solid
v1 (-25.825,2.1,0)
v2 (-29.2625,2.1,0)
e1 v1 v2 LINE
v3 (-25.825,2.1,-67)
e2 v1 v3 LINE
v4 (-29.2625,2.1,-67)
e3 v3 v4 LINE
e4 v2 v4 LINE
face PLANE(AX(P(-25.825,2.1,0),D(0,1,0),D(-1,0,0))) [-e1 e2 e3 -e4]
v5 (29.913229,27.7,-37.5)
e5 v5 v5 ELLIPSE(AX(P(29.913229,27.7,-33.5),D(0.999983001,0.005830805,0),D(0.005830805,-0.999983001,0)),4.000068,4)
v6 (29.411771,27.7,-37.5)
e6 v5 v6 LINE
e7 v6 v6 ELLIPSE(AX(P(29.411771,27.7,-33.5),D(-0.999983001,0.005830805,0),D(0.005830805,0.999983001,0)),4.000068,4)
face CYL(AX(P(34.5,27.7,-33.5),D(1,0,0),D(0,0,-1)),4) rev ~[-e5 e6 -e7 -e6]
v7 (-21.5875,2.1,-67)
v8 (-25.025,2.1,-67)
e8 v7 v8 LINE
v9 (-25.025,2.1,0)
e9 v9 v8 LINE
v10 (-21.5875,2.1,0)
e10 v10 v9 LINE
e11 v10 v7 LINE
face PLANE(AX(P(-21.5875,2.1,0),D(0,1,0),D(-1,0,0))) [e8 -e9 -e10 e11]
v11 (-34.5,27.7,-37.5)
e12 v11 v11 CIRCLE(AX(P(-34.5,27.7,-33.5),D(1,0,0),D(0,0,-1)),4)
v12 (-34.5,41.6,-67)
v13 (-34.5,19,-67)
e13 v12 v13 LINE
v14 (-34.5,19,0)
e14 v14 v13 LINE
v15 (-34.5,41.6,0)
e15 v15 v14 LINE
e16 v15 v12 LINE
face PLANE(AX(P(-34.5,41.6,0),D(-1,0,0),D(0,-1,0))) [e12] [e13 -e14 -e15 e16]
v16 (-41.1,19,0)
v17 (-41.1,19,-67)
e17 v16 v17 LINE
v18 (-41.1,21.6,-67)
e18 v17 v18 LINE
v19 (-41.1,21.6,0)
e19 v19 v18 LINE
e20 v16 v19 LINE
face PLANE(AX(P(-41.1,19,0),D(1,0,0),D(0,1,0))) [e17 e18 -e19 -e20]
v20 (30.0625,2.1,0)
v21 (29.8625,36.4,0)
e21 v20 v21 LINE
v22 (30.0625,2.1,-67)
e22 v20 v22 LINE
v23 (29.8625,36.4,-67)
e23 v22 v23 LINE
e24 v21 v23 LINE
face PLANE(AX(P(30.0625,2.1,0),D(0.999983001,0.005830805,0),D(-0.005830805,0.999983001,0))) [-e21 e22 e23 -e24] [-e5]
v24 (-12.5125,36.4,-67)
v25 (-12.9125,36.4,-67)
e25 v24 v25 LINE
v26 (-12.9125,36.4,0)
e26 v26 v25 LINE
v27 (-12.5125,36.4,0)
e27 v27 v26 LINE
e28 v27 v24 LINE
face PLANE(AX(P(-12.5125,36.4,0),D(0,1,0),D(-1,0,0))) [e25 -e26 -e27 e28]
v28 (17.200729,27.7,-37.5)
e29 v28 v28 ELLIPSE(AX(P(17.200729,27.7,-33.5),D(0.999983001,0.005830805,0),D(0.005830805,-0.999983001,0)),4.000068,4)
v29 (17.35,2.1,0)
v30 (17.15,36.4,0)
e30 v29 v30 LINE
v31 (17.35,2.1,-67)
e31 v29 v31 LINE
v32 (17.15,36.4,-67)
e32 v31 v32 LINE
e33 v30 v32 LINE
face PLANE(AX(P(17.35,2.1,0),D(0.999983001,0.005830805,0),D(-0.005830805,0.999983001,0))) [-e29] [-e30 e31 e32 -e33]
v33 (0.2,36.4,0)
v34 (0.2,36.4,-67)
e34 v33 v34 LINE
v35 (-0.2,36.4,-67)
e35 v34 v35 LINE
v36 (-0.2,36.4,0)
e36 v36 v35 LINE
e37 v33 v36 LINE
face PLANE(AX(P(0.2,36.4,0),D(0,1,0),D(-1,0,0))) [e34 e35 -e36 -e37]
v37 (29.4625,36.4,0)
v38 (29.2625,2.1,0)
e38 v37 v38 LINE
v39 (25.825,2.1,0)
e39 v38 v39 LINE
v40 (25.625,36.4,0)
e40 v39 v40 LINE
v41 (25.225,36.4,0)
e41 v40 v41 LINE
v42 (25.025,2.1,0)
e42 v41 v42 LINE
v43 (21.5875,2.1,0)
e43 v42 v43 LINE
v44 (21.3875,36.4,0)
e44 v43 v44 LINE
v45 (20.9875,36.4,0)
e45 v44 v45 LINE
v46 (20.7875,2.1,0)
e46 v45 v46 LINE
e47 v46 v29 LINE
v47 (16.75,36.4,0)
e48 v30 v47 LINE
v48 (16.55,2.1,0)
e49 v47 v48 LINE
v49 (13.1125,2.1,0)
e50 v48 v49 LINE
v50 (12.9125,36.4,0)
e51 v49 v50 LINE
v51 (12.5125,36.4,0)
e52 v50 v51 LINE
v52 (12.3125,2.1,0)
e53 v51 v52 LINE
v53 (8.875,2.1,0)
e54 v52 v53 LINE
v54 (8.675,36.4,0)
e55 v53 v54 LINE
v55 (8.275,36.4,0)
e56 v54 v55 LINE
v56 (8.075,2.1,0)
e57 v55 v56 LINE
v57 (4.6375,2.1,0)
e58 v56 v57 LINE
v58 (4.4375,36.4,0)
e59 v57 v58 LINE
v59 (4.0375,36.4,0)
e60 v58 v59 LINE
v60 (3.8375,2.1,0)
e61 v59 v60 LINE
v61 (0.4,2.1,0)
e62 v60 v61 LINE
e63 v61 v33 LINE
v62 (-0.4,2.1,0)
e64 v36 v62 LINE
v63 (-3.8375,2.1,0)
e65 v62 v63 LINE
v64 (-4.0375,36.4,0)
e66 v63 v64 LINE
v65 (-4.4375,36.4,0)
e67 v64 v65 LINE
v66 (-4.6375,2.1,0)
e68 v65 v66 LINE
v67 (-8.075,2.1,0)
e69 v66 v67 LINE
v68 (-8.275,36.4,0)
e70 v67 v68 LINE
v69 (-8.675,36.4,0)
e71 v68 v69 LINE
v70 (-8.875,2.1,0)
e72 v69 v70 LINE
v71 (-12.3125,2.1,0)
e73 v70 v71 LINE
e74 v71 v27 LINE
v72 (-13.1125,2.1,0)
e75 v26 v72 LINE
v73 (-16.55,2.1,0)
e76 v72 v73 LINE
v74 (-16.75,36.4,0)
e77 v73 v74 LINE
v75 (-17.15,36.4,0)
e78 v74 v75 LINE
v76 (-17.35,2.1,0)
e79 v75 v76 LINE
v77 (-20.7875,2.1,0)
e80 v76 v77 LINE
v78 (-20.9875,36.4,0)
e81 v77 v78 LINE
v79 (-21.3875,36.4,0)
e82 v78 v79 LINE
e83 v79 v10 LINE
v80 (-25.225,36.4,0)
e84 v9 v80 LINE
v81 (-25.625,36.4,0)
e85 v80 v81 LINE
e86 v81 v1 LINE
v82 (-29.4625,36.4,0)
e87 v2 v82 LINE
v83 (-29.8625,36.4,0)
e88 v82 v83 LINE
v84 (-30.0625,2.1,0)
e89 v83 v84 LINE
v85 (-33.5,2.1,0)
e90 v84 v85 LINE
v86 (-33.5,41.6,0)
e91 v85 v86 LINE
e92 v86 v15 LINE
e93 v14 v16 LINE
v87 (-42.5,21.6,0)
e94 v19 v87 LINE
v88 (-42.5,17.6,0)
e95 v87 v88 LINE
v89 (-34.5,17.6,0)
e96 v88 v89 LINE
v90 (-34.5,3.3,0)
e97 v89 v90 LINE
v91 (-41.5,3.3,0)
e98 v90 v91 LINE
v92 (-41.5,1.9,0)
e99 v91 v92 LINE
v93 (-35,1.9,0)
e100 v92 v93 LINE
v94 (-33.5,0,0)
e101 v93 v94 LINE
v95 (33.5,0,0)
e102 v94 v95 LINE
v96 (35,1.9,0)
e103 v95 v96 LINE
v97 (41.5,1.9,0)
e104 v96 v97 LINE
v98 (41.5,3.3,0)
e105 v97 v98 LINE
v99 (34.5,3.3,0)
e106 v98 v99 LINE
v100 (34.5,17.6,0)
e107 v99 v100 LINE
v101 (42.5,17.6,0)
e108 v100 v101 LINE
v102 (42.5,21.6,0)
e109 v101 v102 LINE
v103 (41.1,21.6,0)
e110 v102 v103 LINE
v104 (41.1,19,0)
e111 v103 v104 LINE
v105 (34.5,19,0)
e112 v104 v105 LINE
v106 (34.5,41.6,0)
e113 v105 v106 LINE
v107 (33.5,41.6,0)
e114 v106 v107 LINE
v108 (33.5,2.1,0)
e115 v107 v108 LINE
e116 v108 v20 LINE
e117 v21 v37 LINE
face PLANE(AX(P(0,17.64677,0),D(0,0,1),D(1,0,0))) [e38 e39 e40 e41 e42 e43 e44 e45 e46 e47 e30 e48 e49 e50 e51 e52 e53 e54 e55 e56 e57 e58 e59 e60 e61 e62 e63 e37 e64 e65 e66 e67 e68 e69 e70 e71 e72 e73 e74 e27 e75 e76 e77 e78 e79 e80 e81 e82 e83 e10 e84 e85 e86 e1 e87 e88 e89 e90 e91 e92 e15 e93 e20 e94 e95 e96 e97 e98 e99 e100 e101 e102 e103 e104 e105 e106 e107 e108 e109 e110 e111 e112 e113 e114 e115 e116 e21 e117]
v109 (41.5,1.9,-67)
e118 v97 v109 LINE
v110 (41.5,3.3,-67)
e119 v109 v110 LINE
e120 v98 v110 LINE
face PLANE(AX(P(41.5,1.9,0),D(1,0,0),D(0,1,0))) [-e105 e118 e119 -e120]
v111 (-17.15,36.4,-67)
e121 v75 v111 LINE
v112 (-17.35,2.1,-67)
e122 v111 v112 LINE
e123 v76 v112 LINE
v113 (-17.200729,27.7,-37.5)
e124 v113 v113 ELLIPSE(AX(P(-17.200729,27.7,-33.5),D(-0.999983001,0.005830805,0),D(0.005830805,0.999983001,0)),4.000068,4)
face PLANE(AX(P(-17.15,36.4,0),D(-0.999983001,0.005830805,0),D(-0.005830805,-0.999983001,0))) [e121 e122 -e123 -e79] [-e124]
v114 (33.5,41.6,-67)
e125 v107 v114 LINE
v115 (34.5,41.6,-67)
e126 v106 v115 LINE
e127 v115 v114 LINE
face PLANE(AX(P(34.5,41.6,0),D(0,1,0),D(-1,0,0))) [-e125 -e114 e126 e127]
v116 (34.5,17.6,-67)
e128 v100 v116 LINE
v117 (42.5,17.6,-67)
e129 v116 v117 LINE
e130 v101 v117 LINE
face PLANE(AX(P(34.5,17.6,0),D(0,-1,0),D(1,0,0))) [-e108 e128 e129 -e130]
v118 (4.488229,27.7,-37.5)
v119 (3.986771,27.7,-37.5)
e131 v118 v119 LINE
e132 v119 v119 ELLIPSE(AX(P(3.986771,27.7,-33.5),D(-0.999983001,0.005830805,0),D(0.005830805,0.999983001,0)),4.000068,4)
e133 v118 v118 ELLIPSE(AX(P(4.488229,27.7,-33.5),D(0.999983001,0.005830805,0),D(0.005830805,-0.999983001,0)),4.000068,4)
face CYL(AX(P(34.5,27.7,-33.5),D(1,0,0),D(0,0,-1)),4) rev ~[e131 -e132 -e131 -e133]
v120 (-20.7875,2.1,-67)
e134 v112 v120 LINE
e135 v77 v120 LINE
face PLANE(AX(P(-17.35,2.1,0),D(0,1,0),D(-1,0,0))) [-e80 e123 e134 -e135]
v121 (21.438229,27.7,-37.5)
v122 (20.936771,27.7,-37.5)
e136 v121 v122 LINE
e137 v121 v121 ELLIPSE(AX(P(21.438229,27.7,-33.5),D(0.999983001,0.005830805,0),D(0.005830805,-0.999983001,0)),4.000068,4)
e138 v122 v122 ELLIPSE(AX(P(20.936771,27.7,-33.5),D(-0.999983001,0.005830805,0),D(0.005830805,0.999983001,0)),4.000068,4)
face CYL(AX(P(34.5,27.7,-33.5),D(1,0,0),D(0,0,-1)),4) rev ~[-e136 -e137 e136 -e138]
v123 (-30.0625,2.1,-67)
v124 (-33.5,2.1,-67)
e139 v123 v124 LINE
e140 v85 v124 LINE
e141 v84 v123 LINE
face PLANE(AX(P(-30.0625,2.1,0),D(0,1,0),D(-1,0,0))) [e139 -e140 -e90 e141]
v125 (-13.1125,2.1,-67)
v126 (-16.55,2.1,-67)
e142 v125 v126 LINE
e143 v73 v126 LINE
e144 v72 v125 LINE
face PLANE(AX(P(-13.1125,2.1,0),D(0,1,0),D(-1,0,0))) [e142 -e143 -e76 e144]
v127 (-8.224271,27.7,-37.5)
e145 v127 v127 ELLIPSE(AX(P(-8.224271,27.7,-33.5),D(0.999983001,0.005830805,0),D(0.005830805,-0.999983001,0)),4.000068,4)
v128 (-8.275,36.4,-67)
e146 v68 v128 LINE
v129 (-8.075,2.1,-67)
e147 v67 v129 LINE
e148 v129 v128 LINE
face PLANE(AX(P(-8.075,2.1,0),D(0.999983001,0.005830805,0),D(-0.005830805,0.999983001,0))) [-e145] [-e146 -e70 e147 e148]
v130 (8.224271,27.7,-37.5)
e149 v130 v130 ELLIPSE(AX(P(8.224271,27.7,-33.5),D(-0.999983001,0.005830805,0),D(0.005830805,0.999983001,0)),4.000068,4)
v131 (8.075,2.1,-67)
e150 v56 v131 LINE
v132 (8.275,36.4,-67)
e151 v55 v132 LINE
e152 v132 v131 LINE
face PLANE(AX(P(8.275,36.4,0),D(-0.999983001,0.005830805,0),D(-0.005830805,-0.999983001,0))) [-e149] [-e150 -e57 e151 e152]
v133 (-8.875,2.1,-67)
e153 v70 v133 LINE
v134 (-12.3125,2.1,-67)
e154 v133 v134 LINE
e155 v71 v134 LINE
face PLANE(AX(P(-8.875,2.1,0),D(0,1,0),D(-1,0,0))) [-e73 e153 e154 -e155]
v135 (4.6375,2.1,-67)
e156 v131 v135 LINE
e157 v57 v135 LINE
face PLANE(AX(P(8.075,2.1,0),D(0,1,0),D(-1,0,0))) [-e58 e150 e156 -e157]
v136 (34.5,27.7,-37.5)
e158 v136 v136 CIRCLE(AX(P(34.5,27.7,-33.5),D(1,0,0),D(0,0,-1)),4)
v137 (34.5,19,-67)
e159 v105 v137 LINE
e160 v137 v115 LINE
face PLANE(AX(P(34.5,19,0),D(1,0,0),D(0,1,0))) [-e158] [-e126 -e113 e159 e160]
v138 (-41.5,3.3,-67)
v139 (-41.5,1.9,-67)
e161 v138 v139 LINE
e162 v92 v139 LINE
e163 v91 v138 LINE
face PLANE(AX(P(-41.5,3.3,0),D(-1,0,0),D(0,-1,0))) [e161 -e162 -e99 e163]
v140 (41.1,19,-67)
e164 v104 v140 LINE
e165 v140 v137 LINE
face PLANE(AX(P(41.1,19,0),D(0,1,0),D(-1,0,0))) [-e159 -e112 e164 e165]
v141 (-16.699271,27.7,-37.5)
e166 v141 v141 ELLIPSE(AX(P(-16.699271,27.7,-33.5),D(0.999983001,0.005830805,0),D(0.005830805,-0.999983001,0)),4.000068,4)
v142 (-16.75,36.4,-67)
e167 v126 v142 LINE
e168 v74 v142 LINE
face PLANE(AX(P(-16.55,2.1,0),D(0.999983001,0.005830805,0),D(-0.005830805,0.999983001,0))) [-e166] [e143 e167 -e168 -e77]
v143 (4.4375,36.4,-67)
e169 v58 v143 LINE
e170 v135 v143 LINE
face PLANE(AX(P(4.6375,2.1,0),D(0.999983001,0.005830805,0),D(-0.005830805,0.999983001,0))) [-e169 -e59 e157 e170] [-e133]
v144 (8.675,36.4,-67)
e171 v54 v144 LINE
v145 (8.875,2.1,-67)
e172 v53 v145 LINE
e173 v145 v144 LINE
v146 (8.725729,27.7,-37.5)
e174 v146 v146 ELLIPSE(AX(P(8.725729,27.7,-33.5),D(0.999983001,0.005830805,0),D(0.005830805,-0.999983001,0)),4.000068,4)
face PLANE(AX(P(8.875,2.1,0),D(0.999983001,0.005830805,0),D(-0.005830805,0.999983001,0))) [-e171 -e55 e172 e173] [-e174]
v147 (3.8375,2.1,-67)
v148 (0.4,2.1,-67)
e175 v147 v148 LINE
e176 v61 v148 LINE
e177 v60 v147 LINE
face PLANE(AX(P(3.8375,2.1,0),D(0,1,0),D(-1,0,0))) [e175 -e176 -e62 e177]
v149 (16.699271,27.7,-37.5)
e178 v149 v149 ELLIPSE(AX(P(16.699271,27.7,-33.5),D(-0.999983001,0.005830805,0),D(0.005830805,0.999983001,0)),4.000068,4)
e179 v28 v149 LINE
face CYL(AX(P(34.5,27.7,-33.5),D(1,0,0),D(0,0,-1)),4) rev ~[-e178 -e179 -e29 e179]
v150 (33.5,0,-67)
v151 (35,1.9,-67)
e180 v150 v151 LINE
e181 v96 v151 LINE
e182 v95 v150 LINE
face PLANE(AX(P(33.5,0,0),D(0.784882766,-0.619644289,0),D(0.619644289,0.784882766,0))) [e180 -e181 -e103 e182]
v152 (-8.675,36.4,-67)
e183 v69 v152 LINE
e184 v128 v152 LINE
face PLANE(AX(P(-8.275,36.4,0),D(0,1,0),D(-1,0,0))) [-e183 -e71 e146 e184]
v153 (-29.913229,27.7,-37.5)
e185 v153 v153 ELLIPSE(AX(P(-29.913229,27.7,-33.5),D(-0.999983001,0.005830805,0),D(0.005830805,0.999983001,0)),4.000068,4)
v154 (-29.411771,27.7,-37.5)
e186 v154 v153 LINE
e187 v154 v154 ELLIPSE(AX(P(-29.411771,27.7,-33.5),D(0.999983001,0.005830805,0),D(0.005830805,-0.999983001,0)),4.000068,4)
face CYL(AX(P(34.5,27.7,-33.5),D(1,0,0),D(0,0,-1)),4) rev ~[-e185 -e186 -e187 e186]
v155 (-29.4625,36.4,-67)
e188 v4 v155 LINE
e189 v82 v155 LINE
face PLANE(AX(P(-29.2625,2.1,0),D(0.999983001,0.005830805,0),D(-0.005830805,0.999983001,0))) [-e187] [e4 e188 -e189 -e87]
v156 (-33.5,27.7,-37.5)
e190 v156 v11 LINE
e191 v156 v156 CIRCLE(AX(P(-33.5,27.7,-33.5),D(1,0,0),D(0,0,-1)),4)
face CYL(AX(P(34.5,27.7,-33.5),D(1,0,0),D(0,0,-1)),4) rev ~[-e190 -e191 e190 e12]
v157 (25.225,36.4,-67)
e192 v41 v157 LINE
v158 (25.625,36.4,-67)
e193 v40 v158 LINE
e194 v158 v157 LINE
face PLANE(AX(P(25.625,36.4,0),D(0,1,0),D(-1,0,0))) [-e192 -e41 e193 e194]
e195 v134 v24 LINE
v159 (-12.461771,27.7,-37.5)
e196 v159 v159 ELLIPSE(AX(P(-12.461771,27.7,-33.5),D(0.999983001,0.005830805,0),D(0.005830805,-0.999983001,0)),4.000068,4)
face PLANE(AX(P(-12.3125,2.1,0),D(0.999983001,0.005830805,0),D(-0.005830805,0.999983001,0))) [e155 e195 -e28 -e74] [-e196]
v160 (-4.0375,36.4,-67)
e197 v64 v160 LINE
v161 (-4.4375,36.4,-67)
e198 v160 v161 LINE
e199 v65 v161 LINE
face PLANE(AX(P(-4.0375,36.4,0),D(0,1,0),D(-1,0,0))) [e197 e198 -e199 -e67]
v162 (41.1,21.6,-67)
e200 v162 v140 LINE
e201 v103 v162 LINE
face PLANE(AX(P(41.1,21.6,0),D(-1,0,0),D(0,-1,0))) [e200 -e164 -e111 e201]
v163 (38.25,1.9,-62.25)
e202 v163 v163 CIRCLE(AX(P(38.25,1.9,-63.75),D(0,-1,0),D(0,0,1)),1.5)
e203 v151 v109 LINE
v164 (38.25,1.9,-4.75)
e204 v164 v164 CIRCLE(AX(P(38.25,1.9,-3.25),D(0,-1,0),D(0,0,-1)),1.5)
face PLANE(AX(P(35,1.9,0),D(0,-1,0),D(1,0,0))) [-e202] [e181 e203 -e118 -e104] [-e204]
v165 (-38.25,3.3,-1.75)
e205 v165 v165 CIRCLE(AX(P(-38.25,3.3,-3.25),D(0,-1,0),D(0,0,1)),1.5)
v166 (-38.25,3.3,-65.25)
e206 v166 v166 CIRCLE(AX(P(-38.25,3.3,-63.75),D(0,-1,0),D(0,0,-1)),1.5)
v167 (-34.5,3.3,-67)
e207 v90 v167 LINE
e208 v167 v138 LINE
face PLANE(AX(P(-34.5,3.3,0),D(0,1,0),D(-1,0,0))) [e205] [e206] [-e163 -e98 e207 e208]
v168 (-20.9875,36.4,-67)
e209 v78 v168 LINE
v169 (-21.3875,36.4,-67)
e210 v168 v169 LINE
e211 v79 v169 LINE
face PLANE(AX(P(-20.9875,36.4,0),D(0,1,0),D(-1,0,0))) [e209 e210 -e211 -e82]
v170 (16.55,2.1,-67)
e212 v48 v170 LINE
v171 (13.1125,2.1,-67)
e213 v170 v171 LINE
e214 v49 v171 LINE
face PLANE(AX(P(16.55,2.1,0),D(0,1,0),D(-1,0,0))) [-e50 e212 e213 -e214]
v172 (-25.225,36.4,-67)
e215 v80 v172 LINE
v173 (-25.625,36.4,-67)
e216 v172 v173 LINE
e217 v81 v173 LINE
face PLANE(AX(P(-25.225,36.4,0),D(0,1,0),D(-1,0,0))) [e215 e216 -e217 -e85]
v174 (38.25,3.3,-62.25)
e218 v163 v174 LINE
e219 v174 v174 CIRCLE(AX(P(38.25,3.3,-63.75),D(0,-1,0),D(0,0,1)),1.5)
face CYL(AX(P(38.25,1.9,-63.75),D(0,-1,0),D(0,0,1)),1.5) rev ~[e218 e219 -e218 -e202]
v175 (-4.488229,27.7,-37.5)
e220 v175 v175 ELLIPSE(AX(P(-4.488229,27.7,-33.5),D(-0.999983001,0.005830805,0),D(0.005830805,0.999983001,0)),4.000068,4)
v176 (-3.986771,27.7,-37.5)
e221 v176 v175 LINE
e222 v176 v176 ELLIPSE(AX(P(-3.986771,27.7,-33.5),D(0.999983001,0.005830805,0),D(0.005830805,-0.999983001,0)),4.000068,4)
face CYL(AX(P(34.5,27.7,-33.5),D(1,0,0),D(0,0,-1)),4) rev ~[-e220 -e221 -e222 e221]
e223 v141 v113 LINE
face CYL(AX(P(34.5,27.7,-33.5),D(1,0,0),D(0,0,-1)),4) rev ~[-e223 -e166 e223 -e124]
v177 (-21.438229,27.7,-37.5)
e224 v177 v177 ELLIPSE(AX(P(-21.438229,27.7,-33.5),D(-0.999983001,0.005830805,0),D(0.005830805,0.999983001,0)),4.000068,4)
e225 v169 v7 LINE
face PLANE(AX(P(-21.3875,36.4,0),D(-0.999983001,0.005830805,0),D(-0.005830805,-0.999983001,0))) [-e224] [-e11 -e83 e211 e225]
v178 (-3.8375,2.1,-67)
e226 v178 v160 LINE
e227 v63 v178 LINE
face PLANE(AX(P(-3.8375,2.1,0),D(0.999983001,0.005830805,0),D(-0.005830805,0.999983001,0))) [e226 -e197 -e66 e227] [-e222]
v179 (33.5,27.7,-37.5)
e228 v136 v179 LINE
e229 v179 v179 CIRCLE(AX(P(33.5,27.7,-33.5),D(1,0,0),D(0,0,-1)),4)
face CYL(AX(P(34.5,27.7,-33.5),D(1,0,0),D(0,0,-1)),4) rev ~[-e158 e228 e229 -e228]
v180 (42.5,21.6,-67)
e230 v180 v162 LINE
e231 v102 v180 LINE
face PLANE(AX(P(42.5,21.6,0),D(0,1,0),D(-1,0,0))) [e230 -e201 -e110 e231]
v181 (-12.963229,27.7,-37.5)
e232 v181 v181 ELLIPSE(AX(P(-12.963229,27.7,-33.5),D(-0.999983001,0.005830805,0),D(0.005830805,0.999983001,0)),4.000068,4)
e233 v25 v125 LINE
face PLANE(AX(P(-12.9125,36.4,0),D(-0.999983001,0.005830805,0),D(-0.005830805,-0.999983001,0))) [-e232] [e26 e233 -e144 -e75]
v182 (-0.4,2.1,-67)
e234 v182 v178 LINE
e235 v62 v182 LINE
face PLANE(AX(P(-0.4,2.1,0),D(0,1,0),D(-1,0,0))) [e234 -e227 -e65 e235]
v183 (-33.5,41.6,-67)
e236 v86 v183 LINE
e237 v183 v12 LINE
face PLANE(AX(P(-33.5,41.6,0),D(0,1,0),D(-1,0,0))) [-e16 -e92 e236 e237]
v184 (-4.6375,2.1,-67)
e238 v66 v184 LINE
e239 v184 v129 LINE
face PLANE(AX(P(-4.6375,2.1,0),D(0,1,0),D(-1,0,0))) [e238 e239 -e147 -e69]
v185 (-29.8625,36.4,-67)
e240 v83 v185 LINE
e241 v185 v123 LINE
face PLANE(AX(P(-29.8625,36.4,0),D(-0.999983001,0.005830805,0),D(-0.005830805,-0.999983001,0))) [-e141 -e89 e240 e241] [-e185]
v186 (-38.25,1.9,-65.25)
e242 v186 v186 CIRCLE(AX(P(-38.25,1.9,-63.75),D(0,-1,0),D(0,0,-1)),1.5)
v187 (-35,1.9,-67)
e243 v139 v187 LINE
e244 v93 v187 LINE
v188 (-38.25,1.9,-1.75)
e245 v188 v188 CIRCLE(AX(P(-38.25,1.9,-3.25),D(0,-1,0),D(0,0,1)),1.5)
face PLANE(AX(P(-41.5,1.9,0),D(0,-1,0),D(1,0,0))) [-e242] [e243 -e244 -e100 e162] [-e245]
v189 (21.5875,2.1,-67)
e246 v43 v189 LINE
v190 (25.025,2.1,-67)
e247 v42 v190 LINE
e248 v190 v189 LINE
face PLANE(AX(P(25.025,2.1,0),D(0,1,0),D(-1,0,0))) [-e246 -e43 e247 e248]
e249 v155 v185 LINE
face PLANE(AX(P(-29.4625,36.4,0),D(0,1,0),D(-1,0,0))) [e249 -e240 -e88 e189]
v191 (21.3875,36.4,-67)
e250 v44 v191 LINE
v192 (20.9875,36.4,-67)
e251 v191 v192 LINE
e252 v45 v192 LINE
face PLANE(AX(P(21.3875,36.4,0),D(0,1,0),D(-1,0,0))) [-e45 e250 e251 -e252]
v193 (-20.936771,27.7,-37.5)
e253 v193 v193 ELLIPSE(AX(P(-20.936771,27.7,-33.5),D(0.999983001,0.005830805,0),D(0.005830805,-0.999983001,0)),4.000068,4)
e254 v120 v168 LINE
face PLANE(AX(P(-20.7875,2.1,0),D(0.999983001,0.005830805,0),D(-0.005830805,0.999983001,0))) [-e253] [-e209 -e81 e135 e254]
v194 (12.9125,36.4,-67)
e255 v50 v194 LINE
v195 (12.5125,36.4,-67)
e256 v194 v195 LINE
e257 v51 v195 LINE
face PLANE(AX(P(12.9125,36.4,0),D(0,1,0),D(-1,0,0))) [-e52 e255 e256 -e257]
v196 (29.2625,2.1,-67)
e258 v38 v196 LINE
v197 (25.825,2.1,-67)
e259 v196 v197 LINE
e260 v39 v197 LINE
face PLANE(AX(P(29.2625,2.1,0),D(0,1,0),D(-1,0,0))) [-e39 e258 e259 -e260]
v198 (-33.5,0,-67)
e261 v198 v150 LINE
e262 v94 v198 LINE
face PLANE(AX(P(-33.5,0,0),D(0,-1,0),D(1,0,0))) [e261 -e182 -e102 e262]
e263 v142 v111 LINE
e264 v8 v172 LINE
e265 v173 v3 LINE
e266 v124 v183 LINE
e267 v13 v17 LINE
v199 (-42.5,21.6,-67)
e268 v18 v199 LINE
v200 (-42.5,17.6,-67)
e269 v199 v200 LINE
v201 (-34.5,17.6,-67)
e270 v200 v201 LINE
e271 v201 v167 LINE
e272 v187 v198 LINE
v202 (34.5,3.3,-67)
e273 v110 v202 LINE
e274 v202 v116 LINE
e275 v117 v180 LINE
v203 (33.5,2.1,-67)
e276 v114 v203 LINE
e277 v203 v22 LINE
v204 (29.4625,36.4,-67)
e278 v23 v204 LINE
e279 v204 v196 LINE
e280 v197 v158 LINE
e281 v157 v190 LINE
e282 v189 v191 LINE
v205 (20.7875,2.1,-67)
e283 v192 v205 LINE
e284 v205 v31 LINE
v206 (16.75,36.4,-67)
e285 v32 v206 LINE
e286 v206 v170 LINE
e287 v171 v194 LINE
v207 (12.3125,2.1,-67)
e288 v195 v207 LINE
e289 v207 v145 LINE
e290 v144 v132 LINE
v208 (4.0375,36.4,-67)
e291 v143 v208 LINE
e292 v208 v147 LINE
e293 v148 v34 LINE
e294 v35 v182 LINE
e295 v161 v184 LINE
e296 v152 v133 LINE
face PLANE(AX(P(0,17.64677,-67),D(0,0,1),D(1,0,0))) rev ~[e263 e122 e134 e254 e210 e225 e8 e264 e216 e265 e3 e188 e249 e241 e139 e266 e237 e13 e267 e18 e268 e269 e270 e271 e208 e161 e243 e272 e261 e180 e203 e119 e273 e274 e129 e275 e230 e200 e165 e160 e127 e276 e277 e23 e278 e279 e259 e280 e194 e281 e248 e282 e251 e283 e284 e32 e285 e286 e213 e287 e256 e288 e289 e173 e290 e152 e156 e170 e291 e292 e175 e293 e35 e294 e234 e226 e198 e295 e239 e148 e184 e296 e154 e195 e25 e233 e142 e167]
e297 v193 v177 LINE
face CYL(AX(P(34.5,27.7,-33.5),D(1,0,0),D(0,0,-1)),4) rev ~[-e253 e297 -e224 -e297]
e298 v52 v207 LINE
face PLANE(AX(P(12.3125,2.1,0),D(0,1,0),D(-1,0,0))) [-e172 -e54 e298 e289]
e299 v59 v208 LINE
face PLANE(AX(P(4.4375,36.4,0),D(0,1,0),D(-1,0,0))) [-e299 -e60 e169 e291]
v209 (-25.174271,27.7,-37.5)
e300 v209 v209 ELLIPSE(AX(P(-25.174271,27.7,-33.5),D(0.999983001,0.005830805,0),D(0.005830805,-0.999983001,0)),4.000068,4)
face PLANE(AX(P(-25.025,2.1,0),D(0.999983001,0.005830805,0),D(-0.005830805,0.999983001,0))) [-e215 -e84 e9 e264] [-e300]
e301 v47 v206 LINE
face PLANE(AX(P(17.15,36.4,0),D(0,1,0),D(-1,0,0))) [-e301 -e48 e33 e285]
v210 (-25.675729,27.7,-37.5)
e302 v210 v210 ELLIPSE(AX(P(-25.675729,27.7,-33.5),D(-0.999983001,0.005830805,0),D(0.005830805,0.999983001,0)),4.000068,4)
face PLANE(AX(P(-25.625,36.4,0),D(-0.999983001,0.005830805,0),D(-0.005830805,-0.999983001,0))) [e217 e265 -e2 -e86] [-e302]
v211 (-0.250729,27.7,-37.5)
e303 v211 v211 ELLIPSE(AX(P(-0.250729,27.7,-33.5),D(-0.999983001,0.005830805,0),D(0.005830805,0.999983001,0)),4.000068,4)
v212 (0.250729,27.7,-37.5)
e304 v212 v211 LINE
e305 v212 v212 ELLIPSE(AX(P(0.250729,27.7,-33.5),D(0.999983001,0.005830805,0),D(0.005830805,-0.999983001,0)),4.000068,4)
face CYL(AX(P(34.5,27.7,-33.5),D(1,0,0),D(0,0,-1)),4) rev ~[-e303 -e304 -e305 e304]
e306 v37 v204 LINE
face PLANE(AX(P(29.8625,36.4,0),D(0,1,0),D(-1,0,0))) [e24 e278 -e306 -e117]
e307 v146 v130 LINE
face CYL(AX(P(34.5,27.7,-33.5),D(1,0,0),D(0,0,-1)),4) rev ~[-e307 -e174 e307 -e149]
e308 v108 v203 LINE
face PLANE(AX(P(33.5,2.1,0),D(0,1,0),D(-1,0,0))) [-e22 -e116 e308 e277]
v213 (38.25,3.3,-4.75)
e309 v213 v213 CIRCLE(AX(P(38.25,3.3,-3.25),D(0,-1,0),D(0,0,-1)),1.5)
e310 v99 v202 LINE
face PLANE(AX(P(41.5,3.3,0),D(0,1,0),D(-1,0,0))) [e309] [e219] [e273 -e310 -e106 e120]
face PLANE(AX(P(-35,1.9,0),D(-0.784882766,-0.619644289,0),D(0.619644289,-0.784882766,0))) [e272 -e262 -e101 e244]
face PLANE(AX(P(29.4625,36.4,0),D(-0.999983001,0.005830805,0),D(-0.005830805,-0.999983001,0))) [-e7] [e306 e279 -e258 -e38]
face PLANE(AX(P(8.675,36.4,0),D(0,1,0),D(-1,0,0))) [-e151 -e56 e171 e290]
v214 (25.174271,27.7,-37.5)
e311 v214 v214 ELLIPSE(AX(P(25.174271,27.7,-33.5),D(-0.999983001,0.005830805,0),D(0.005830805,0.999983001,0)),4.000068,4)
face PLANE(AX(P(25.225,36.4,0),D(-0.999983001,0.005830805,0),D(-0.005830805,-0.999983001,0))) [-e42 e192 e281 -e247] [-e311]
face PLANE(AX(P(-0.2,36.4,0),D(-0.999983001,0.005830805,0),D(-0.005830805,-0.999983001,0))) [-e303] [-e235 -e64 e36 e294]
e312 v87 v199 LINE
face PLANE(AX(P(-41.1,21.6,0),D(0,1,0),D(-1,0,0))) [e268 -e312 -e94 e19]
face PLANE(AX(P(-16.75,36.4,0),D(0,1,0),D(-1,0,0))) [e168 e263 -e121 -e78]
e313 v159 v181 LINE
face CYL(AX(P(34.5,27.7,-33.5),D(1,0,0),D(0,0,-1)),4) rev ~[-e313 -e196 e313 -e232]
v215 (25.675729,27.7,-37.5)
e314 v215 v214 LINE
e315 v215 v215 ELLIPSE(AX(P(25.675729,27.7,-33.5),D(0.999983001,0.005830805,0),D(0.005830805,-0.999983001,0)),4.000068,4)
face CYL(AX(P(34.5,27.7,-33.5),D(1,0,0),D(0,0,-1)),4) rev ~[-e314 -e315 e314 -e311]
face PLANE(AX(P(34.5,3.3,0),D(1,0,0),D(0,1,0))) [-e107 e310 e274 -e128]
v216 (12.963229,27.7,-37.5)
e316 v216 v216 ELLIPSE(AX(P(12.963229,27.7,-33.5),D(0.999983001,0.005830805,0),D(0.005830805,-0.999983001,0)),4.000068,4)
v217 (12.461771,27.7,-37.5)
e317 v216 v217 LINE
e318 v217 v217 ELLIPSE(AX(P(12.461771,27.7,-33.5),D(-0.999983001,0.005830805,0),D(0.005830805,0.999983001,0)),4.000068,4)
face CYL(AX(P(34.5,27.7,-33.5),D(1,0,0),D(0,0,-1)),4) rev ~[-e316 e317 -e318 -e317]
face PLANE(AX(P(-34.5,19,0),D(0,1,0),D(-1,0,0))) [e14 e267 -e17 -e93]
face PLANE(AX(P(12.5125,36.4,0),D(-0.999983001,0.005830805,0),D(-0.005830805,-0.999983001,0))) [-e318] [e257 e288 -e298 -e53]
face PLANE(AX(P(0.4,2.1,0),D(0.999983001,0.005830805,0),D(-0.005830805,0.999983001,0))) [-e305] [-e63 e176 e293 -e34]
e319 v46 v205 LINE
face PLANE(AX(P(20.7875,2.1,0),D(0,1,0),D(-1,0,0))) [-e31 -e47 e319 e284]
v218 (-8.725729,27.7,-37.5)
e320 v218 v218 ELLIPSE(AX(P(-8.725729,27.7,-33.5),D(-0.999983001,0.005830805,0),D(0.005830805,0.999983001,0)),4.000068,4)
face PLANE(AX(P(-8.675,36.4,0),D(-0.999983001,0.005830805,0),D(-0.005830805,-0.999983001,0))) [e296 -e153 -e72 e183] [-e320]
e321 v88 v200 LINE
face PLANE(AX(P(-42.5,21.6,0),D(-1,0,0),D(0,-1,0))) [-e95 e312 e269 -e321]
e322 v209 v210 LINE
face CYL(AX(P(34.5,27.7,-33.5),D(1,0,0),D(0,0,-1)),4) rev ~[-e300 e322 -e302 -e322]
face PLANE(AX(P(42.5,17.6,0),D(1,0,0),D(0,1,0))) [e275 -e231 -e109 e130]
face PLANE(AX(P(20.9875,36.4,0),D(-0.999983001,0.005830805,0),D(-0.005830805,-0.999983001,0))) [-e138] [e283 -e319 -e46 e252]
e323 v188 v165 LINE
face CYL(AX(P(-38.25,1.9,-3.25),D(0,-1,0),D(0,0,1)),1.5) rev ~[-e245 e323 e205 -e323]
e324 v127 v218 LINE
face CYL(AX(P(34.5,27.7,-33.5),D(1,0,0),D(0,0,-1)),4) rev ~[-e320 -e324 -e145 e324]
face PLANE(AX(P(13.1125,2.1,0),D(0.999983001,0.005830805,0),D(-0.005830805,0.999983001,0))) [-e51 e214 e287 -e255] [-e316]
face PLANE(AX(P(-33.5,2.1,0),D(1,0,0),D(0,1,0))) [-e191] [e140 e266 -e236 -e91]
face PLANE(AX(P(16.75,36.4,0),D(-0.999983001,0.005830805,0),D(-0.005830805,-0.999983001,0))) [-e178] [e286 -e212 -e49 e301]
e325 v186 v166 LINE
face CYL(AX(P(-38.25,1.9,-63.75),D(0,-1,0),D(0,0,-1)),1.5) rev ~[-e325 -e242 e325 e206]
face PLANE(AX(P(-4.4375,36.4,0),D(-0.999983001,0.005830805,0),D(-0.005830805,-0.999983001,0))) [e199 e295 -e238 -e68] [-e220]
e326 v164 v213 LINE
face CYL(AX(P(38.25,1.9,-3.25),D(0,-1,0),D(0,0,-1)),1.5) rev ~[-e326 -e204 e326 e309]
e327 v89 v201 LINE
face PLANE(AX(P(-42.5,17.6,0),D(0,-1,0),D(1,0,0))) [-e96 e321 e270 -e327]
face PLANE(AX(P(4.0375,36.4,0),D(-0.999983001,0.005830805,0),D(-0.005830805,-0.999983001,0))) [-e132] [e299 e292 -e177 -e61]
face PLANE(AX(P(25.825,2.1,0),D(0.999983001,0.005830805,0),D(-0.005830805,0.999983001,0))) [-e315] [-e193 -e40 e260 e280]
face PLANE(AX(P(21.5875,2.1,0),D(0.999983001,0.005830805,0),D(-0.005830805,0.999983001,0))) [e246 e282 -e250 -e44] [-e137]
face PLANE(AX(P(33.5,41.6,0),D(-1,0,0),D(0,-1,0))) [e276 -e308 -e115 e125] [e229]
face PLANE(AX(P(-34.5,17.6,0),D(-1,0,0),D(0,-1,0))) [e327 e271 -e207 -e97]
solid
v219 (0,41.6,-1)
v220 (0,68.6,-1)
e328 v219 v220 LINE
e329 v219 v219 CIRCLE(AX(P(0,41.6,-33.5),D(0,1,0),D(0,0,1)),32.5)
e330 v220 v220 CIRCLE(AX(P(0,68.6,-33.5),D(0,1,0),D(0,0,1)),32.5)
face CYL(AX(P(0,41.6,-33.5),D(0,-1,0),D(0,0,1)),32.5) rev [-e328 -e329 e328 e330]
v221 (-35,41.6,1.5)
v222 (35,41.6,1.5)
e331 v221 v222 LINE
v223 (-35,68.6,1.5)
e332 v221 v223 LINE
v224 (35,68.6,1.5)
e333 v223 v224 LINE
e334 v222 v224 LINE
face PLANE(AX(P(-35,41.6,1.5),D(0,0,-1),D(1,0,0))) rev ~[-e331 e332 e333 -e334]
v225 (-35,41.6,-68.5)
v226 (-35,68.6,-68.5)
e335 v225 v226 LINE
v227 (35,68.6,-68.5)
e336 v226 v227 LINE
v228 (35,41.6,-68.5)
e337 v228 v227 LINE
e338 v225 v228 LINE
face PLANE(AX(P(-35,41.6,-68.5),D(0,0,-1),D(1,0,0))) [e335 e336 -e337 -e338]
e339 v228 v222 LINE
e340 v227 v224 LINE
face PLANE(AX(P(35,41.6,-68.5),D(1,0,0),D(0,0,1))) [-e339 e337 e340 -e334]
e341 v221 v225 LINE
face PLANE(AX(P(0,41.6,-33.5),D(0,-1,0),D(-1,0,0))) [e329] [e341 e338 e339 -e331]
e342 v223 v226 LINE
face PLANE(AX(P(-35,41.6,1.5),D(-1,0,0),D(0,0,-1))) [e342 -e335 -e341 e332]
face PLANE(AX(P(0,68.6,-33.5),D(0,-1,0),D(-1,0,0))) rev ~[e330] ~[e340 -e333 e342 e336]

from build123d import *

# Parameters (mm, degrees)
HEATSINK_DEPTH                    = 67
SKETCH3_R                         = 32.5
FAN_DEPTH                         = 27
SKETCH4_R                         = 1.5
MOUNTING_HOLES_CUT_EXTRUDE1_DEPTH = 1.4
U_ARM_SHAFT_CUT_EXTRUDE2_REACH    = 125.803
SKETCH6_R                         = 4


with BuildPart() as part:
    # Sketch1 → Heatsink (new body)
    with BuildSketch(Plane.XY):
        Polygon((-33.5, 0), (33.5, 0), (35, 1.9), (41.5, 1.9), (41.5, 3.3), (34.5, 3.3), (34.5, 17.6), (42.5, 17.6), (42.5, 21.6), (41.1, 21.6), (41.1, 19), (34.5, 19), (34.5, 41.6), (33.5, 41.6), (33.5, 2.1), (30.0625, 2.1), (29.8625, 36.4), (29.4625, 36.4), (29.2625, 2.1), (25.825, 2.1), (25.625, 36.4), (25.225, 36.4), (25.025, 2.1), (21.5875, 2.1), (21.3875, 36.4), (20.9875, 36.4), (20.7875, 2.1), (17.35, 2.1), (17.15, 36.4), (16.75, 36.4), (16.55, 2.1), (13.1125, 2.1), (12.9125, 36.4), (12.5125, 36.4), (12.3125, 2.1), (8.875, 2.1), (8.675, 36.4), (8.275, 36.4), (8.075, 2.1), (4.6375, 2.1), (4.4375, 36.4), (4.0375, 36.4), (3.8375, 2.1), (0.4, 2.1), (0.2, 36.4), (-0.2, 36.4), (-0.4, 2.1), (-3.8375, 2.1), (-4.0375, 36.4), (-4.4375, 36.4), (-4.6375, 2.1), (-8.075, 2.1), (-8.275, 36.4), (-8.675, 36.4), (-8.875, 2.1), (-12.3125, 2.1), (-12.5125, 36.4), (-12.9125, 36.4), (-13.1125, 2.1), (-16.55, 2.1), (-16.75, 36.4), (-17.15, 36.4), (-17.35, 2.1), (-20.7875, 2.1), (-20.9875, 36.4), (-21.3875, 36.4), (-21.5875, 2.1), (-25.025, 2.1), (-25.225, 36.4), (-25.625, 36.4), (-25.825, 2.1), (-29.2625, 2.1), (-29.4625, 36.4), (-29.8625, 36.4), (-30.0625, 2.1), (-33.5, 2.1), (-33.5, 41.6), (-34.5, 41.6), (-34.5, 19), (-41.1, 19), (-41.1, 21.6), (-42.5, 21.6), (-42.5, 17.6), (-34.5, 17.6), (-34.5, 3.3), (-41.5, 3.3), (-41.5, 1.9), (-35, 1.9), align=None)
    extrude(amount=-HEATSINK_DEPTH)

    # Sketch4 → Mounting Holes Cut-Extrude1 (cut)
    with BuildSketch(Plane.XZ.offset(-1.9)):
        with Locations(Location((38.25, -3.25, 0), (0, 0, 270))):
            Circle(SKETCH4_R)
        with Locations(Location((-38.25, -3.25, 0), (0, 0, 90))):
            Circle(SKETCH4_R)
        with Locations(Location((38.25, -63.75, 0), (0, 0, 90))):
            Circle(SKETCH4_R)
        with Locations(Location((-38.25, -63.75, 0), (0, 0, 270))):
            Circle(SKETCH4_R)
    extrude(amount=-MOUNTING_HOLES_CUT_EXTRUDE1_DEPTH, mode=Mode.SUBTRACT)

    # U-Arm Shaft Cut-Extrude2: up to this face of the body (flat: up to its plane)
    u_arm_shaft_cut_extrude2_end = Plane(part.part.faces().sort_by_distance((-34.5, 30.3, -33.5))[0])
    # Sketch6 → U-Arm Shaft Cut-Extrude2 (cut, up to the picked face)
    with BuildSketch(Plane(origin=(34.5, 0, 0), x_dir=(0, 0, -1), z_dir=(1, 0, 0)), mode=Mode.PRIVATE) as u_arm_shaft_cut_extrude2_sk1:
        with Locations((33.5, 27.7)):
            Circle(SKETCH6_R)
    u_arm_shaft_cut_extrude2_tool1 = split(extrude(u_arm_shaft_cut_extrude2_sk1.sketch, amount=-U_ARM_SHAFT_CUT_EXTRUDE2_REACH, mode=Mode.PRIVATE), bisect_by=u_arm_shaft_cut_extrude2_end, keep=Keep.BOTH, mode=Mode.PRIVATE)
    add(u_arm_shaft_cut_extrude2_tool1.solids().sort_by(Axis((34.5, 27.7, -33.5), (-1, 0, 0)))[0], mode=Mode.SUBTRACT)


with BuildPart() as body_2:
    # Sketch3 → Fan (new body)
    with BuildSketch(Plane(origin=(0, 41.6, 0), x_dir=(1, 0, 0), z_dir=(0, 1, 0))):
        Polygon((-35, 68.5), (35, 68.5), (35, -1.5), (0, -1.5), (-35, -1.5), align=None)
        with Locations(Location((0, 33.5, 0), (0, 0, 270))):
            Circle(SKETCH3_R, mode=Mode.SUBTRACT)
    extrude(amount=FAN_DEPTH)


solid = Compound([part.part, body_2.part])
